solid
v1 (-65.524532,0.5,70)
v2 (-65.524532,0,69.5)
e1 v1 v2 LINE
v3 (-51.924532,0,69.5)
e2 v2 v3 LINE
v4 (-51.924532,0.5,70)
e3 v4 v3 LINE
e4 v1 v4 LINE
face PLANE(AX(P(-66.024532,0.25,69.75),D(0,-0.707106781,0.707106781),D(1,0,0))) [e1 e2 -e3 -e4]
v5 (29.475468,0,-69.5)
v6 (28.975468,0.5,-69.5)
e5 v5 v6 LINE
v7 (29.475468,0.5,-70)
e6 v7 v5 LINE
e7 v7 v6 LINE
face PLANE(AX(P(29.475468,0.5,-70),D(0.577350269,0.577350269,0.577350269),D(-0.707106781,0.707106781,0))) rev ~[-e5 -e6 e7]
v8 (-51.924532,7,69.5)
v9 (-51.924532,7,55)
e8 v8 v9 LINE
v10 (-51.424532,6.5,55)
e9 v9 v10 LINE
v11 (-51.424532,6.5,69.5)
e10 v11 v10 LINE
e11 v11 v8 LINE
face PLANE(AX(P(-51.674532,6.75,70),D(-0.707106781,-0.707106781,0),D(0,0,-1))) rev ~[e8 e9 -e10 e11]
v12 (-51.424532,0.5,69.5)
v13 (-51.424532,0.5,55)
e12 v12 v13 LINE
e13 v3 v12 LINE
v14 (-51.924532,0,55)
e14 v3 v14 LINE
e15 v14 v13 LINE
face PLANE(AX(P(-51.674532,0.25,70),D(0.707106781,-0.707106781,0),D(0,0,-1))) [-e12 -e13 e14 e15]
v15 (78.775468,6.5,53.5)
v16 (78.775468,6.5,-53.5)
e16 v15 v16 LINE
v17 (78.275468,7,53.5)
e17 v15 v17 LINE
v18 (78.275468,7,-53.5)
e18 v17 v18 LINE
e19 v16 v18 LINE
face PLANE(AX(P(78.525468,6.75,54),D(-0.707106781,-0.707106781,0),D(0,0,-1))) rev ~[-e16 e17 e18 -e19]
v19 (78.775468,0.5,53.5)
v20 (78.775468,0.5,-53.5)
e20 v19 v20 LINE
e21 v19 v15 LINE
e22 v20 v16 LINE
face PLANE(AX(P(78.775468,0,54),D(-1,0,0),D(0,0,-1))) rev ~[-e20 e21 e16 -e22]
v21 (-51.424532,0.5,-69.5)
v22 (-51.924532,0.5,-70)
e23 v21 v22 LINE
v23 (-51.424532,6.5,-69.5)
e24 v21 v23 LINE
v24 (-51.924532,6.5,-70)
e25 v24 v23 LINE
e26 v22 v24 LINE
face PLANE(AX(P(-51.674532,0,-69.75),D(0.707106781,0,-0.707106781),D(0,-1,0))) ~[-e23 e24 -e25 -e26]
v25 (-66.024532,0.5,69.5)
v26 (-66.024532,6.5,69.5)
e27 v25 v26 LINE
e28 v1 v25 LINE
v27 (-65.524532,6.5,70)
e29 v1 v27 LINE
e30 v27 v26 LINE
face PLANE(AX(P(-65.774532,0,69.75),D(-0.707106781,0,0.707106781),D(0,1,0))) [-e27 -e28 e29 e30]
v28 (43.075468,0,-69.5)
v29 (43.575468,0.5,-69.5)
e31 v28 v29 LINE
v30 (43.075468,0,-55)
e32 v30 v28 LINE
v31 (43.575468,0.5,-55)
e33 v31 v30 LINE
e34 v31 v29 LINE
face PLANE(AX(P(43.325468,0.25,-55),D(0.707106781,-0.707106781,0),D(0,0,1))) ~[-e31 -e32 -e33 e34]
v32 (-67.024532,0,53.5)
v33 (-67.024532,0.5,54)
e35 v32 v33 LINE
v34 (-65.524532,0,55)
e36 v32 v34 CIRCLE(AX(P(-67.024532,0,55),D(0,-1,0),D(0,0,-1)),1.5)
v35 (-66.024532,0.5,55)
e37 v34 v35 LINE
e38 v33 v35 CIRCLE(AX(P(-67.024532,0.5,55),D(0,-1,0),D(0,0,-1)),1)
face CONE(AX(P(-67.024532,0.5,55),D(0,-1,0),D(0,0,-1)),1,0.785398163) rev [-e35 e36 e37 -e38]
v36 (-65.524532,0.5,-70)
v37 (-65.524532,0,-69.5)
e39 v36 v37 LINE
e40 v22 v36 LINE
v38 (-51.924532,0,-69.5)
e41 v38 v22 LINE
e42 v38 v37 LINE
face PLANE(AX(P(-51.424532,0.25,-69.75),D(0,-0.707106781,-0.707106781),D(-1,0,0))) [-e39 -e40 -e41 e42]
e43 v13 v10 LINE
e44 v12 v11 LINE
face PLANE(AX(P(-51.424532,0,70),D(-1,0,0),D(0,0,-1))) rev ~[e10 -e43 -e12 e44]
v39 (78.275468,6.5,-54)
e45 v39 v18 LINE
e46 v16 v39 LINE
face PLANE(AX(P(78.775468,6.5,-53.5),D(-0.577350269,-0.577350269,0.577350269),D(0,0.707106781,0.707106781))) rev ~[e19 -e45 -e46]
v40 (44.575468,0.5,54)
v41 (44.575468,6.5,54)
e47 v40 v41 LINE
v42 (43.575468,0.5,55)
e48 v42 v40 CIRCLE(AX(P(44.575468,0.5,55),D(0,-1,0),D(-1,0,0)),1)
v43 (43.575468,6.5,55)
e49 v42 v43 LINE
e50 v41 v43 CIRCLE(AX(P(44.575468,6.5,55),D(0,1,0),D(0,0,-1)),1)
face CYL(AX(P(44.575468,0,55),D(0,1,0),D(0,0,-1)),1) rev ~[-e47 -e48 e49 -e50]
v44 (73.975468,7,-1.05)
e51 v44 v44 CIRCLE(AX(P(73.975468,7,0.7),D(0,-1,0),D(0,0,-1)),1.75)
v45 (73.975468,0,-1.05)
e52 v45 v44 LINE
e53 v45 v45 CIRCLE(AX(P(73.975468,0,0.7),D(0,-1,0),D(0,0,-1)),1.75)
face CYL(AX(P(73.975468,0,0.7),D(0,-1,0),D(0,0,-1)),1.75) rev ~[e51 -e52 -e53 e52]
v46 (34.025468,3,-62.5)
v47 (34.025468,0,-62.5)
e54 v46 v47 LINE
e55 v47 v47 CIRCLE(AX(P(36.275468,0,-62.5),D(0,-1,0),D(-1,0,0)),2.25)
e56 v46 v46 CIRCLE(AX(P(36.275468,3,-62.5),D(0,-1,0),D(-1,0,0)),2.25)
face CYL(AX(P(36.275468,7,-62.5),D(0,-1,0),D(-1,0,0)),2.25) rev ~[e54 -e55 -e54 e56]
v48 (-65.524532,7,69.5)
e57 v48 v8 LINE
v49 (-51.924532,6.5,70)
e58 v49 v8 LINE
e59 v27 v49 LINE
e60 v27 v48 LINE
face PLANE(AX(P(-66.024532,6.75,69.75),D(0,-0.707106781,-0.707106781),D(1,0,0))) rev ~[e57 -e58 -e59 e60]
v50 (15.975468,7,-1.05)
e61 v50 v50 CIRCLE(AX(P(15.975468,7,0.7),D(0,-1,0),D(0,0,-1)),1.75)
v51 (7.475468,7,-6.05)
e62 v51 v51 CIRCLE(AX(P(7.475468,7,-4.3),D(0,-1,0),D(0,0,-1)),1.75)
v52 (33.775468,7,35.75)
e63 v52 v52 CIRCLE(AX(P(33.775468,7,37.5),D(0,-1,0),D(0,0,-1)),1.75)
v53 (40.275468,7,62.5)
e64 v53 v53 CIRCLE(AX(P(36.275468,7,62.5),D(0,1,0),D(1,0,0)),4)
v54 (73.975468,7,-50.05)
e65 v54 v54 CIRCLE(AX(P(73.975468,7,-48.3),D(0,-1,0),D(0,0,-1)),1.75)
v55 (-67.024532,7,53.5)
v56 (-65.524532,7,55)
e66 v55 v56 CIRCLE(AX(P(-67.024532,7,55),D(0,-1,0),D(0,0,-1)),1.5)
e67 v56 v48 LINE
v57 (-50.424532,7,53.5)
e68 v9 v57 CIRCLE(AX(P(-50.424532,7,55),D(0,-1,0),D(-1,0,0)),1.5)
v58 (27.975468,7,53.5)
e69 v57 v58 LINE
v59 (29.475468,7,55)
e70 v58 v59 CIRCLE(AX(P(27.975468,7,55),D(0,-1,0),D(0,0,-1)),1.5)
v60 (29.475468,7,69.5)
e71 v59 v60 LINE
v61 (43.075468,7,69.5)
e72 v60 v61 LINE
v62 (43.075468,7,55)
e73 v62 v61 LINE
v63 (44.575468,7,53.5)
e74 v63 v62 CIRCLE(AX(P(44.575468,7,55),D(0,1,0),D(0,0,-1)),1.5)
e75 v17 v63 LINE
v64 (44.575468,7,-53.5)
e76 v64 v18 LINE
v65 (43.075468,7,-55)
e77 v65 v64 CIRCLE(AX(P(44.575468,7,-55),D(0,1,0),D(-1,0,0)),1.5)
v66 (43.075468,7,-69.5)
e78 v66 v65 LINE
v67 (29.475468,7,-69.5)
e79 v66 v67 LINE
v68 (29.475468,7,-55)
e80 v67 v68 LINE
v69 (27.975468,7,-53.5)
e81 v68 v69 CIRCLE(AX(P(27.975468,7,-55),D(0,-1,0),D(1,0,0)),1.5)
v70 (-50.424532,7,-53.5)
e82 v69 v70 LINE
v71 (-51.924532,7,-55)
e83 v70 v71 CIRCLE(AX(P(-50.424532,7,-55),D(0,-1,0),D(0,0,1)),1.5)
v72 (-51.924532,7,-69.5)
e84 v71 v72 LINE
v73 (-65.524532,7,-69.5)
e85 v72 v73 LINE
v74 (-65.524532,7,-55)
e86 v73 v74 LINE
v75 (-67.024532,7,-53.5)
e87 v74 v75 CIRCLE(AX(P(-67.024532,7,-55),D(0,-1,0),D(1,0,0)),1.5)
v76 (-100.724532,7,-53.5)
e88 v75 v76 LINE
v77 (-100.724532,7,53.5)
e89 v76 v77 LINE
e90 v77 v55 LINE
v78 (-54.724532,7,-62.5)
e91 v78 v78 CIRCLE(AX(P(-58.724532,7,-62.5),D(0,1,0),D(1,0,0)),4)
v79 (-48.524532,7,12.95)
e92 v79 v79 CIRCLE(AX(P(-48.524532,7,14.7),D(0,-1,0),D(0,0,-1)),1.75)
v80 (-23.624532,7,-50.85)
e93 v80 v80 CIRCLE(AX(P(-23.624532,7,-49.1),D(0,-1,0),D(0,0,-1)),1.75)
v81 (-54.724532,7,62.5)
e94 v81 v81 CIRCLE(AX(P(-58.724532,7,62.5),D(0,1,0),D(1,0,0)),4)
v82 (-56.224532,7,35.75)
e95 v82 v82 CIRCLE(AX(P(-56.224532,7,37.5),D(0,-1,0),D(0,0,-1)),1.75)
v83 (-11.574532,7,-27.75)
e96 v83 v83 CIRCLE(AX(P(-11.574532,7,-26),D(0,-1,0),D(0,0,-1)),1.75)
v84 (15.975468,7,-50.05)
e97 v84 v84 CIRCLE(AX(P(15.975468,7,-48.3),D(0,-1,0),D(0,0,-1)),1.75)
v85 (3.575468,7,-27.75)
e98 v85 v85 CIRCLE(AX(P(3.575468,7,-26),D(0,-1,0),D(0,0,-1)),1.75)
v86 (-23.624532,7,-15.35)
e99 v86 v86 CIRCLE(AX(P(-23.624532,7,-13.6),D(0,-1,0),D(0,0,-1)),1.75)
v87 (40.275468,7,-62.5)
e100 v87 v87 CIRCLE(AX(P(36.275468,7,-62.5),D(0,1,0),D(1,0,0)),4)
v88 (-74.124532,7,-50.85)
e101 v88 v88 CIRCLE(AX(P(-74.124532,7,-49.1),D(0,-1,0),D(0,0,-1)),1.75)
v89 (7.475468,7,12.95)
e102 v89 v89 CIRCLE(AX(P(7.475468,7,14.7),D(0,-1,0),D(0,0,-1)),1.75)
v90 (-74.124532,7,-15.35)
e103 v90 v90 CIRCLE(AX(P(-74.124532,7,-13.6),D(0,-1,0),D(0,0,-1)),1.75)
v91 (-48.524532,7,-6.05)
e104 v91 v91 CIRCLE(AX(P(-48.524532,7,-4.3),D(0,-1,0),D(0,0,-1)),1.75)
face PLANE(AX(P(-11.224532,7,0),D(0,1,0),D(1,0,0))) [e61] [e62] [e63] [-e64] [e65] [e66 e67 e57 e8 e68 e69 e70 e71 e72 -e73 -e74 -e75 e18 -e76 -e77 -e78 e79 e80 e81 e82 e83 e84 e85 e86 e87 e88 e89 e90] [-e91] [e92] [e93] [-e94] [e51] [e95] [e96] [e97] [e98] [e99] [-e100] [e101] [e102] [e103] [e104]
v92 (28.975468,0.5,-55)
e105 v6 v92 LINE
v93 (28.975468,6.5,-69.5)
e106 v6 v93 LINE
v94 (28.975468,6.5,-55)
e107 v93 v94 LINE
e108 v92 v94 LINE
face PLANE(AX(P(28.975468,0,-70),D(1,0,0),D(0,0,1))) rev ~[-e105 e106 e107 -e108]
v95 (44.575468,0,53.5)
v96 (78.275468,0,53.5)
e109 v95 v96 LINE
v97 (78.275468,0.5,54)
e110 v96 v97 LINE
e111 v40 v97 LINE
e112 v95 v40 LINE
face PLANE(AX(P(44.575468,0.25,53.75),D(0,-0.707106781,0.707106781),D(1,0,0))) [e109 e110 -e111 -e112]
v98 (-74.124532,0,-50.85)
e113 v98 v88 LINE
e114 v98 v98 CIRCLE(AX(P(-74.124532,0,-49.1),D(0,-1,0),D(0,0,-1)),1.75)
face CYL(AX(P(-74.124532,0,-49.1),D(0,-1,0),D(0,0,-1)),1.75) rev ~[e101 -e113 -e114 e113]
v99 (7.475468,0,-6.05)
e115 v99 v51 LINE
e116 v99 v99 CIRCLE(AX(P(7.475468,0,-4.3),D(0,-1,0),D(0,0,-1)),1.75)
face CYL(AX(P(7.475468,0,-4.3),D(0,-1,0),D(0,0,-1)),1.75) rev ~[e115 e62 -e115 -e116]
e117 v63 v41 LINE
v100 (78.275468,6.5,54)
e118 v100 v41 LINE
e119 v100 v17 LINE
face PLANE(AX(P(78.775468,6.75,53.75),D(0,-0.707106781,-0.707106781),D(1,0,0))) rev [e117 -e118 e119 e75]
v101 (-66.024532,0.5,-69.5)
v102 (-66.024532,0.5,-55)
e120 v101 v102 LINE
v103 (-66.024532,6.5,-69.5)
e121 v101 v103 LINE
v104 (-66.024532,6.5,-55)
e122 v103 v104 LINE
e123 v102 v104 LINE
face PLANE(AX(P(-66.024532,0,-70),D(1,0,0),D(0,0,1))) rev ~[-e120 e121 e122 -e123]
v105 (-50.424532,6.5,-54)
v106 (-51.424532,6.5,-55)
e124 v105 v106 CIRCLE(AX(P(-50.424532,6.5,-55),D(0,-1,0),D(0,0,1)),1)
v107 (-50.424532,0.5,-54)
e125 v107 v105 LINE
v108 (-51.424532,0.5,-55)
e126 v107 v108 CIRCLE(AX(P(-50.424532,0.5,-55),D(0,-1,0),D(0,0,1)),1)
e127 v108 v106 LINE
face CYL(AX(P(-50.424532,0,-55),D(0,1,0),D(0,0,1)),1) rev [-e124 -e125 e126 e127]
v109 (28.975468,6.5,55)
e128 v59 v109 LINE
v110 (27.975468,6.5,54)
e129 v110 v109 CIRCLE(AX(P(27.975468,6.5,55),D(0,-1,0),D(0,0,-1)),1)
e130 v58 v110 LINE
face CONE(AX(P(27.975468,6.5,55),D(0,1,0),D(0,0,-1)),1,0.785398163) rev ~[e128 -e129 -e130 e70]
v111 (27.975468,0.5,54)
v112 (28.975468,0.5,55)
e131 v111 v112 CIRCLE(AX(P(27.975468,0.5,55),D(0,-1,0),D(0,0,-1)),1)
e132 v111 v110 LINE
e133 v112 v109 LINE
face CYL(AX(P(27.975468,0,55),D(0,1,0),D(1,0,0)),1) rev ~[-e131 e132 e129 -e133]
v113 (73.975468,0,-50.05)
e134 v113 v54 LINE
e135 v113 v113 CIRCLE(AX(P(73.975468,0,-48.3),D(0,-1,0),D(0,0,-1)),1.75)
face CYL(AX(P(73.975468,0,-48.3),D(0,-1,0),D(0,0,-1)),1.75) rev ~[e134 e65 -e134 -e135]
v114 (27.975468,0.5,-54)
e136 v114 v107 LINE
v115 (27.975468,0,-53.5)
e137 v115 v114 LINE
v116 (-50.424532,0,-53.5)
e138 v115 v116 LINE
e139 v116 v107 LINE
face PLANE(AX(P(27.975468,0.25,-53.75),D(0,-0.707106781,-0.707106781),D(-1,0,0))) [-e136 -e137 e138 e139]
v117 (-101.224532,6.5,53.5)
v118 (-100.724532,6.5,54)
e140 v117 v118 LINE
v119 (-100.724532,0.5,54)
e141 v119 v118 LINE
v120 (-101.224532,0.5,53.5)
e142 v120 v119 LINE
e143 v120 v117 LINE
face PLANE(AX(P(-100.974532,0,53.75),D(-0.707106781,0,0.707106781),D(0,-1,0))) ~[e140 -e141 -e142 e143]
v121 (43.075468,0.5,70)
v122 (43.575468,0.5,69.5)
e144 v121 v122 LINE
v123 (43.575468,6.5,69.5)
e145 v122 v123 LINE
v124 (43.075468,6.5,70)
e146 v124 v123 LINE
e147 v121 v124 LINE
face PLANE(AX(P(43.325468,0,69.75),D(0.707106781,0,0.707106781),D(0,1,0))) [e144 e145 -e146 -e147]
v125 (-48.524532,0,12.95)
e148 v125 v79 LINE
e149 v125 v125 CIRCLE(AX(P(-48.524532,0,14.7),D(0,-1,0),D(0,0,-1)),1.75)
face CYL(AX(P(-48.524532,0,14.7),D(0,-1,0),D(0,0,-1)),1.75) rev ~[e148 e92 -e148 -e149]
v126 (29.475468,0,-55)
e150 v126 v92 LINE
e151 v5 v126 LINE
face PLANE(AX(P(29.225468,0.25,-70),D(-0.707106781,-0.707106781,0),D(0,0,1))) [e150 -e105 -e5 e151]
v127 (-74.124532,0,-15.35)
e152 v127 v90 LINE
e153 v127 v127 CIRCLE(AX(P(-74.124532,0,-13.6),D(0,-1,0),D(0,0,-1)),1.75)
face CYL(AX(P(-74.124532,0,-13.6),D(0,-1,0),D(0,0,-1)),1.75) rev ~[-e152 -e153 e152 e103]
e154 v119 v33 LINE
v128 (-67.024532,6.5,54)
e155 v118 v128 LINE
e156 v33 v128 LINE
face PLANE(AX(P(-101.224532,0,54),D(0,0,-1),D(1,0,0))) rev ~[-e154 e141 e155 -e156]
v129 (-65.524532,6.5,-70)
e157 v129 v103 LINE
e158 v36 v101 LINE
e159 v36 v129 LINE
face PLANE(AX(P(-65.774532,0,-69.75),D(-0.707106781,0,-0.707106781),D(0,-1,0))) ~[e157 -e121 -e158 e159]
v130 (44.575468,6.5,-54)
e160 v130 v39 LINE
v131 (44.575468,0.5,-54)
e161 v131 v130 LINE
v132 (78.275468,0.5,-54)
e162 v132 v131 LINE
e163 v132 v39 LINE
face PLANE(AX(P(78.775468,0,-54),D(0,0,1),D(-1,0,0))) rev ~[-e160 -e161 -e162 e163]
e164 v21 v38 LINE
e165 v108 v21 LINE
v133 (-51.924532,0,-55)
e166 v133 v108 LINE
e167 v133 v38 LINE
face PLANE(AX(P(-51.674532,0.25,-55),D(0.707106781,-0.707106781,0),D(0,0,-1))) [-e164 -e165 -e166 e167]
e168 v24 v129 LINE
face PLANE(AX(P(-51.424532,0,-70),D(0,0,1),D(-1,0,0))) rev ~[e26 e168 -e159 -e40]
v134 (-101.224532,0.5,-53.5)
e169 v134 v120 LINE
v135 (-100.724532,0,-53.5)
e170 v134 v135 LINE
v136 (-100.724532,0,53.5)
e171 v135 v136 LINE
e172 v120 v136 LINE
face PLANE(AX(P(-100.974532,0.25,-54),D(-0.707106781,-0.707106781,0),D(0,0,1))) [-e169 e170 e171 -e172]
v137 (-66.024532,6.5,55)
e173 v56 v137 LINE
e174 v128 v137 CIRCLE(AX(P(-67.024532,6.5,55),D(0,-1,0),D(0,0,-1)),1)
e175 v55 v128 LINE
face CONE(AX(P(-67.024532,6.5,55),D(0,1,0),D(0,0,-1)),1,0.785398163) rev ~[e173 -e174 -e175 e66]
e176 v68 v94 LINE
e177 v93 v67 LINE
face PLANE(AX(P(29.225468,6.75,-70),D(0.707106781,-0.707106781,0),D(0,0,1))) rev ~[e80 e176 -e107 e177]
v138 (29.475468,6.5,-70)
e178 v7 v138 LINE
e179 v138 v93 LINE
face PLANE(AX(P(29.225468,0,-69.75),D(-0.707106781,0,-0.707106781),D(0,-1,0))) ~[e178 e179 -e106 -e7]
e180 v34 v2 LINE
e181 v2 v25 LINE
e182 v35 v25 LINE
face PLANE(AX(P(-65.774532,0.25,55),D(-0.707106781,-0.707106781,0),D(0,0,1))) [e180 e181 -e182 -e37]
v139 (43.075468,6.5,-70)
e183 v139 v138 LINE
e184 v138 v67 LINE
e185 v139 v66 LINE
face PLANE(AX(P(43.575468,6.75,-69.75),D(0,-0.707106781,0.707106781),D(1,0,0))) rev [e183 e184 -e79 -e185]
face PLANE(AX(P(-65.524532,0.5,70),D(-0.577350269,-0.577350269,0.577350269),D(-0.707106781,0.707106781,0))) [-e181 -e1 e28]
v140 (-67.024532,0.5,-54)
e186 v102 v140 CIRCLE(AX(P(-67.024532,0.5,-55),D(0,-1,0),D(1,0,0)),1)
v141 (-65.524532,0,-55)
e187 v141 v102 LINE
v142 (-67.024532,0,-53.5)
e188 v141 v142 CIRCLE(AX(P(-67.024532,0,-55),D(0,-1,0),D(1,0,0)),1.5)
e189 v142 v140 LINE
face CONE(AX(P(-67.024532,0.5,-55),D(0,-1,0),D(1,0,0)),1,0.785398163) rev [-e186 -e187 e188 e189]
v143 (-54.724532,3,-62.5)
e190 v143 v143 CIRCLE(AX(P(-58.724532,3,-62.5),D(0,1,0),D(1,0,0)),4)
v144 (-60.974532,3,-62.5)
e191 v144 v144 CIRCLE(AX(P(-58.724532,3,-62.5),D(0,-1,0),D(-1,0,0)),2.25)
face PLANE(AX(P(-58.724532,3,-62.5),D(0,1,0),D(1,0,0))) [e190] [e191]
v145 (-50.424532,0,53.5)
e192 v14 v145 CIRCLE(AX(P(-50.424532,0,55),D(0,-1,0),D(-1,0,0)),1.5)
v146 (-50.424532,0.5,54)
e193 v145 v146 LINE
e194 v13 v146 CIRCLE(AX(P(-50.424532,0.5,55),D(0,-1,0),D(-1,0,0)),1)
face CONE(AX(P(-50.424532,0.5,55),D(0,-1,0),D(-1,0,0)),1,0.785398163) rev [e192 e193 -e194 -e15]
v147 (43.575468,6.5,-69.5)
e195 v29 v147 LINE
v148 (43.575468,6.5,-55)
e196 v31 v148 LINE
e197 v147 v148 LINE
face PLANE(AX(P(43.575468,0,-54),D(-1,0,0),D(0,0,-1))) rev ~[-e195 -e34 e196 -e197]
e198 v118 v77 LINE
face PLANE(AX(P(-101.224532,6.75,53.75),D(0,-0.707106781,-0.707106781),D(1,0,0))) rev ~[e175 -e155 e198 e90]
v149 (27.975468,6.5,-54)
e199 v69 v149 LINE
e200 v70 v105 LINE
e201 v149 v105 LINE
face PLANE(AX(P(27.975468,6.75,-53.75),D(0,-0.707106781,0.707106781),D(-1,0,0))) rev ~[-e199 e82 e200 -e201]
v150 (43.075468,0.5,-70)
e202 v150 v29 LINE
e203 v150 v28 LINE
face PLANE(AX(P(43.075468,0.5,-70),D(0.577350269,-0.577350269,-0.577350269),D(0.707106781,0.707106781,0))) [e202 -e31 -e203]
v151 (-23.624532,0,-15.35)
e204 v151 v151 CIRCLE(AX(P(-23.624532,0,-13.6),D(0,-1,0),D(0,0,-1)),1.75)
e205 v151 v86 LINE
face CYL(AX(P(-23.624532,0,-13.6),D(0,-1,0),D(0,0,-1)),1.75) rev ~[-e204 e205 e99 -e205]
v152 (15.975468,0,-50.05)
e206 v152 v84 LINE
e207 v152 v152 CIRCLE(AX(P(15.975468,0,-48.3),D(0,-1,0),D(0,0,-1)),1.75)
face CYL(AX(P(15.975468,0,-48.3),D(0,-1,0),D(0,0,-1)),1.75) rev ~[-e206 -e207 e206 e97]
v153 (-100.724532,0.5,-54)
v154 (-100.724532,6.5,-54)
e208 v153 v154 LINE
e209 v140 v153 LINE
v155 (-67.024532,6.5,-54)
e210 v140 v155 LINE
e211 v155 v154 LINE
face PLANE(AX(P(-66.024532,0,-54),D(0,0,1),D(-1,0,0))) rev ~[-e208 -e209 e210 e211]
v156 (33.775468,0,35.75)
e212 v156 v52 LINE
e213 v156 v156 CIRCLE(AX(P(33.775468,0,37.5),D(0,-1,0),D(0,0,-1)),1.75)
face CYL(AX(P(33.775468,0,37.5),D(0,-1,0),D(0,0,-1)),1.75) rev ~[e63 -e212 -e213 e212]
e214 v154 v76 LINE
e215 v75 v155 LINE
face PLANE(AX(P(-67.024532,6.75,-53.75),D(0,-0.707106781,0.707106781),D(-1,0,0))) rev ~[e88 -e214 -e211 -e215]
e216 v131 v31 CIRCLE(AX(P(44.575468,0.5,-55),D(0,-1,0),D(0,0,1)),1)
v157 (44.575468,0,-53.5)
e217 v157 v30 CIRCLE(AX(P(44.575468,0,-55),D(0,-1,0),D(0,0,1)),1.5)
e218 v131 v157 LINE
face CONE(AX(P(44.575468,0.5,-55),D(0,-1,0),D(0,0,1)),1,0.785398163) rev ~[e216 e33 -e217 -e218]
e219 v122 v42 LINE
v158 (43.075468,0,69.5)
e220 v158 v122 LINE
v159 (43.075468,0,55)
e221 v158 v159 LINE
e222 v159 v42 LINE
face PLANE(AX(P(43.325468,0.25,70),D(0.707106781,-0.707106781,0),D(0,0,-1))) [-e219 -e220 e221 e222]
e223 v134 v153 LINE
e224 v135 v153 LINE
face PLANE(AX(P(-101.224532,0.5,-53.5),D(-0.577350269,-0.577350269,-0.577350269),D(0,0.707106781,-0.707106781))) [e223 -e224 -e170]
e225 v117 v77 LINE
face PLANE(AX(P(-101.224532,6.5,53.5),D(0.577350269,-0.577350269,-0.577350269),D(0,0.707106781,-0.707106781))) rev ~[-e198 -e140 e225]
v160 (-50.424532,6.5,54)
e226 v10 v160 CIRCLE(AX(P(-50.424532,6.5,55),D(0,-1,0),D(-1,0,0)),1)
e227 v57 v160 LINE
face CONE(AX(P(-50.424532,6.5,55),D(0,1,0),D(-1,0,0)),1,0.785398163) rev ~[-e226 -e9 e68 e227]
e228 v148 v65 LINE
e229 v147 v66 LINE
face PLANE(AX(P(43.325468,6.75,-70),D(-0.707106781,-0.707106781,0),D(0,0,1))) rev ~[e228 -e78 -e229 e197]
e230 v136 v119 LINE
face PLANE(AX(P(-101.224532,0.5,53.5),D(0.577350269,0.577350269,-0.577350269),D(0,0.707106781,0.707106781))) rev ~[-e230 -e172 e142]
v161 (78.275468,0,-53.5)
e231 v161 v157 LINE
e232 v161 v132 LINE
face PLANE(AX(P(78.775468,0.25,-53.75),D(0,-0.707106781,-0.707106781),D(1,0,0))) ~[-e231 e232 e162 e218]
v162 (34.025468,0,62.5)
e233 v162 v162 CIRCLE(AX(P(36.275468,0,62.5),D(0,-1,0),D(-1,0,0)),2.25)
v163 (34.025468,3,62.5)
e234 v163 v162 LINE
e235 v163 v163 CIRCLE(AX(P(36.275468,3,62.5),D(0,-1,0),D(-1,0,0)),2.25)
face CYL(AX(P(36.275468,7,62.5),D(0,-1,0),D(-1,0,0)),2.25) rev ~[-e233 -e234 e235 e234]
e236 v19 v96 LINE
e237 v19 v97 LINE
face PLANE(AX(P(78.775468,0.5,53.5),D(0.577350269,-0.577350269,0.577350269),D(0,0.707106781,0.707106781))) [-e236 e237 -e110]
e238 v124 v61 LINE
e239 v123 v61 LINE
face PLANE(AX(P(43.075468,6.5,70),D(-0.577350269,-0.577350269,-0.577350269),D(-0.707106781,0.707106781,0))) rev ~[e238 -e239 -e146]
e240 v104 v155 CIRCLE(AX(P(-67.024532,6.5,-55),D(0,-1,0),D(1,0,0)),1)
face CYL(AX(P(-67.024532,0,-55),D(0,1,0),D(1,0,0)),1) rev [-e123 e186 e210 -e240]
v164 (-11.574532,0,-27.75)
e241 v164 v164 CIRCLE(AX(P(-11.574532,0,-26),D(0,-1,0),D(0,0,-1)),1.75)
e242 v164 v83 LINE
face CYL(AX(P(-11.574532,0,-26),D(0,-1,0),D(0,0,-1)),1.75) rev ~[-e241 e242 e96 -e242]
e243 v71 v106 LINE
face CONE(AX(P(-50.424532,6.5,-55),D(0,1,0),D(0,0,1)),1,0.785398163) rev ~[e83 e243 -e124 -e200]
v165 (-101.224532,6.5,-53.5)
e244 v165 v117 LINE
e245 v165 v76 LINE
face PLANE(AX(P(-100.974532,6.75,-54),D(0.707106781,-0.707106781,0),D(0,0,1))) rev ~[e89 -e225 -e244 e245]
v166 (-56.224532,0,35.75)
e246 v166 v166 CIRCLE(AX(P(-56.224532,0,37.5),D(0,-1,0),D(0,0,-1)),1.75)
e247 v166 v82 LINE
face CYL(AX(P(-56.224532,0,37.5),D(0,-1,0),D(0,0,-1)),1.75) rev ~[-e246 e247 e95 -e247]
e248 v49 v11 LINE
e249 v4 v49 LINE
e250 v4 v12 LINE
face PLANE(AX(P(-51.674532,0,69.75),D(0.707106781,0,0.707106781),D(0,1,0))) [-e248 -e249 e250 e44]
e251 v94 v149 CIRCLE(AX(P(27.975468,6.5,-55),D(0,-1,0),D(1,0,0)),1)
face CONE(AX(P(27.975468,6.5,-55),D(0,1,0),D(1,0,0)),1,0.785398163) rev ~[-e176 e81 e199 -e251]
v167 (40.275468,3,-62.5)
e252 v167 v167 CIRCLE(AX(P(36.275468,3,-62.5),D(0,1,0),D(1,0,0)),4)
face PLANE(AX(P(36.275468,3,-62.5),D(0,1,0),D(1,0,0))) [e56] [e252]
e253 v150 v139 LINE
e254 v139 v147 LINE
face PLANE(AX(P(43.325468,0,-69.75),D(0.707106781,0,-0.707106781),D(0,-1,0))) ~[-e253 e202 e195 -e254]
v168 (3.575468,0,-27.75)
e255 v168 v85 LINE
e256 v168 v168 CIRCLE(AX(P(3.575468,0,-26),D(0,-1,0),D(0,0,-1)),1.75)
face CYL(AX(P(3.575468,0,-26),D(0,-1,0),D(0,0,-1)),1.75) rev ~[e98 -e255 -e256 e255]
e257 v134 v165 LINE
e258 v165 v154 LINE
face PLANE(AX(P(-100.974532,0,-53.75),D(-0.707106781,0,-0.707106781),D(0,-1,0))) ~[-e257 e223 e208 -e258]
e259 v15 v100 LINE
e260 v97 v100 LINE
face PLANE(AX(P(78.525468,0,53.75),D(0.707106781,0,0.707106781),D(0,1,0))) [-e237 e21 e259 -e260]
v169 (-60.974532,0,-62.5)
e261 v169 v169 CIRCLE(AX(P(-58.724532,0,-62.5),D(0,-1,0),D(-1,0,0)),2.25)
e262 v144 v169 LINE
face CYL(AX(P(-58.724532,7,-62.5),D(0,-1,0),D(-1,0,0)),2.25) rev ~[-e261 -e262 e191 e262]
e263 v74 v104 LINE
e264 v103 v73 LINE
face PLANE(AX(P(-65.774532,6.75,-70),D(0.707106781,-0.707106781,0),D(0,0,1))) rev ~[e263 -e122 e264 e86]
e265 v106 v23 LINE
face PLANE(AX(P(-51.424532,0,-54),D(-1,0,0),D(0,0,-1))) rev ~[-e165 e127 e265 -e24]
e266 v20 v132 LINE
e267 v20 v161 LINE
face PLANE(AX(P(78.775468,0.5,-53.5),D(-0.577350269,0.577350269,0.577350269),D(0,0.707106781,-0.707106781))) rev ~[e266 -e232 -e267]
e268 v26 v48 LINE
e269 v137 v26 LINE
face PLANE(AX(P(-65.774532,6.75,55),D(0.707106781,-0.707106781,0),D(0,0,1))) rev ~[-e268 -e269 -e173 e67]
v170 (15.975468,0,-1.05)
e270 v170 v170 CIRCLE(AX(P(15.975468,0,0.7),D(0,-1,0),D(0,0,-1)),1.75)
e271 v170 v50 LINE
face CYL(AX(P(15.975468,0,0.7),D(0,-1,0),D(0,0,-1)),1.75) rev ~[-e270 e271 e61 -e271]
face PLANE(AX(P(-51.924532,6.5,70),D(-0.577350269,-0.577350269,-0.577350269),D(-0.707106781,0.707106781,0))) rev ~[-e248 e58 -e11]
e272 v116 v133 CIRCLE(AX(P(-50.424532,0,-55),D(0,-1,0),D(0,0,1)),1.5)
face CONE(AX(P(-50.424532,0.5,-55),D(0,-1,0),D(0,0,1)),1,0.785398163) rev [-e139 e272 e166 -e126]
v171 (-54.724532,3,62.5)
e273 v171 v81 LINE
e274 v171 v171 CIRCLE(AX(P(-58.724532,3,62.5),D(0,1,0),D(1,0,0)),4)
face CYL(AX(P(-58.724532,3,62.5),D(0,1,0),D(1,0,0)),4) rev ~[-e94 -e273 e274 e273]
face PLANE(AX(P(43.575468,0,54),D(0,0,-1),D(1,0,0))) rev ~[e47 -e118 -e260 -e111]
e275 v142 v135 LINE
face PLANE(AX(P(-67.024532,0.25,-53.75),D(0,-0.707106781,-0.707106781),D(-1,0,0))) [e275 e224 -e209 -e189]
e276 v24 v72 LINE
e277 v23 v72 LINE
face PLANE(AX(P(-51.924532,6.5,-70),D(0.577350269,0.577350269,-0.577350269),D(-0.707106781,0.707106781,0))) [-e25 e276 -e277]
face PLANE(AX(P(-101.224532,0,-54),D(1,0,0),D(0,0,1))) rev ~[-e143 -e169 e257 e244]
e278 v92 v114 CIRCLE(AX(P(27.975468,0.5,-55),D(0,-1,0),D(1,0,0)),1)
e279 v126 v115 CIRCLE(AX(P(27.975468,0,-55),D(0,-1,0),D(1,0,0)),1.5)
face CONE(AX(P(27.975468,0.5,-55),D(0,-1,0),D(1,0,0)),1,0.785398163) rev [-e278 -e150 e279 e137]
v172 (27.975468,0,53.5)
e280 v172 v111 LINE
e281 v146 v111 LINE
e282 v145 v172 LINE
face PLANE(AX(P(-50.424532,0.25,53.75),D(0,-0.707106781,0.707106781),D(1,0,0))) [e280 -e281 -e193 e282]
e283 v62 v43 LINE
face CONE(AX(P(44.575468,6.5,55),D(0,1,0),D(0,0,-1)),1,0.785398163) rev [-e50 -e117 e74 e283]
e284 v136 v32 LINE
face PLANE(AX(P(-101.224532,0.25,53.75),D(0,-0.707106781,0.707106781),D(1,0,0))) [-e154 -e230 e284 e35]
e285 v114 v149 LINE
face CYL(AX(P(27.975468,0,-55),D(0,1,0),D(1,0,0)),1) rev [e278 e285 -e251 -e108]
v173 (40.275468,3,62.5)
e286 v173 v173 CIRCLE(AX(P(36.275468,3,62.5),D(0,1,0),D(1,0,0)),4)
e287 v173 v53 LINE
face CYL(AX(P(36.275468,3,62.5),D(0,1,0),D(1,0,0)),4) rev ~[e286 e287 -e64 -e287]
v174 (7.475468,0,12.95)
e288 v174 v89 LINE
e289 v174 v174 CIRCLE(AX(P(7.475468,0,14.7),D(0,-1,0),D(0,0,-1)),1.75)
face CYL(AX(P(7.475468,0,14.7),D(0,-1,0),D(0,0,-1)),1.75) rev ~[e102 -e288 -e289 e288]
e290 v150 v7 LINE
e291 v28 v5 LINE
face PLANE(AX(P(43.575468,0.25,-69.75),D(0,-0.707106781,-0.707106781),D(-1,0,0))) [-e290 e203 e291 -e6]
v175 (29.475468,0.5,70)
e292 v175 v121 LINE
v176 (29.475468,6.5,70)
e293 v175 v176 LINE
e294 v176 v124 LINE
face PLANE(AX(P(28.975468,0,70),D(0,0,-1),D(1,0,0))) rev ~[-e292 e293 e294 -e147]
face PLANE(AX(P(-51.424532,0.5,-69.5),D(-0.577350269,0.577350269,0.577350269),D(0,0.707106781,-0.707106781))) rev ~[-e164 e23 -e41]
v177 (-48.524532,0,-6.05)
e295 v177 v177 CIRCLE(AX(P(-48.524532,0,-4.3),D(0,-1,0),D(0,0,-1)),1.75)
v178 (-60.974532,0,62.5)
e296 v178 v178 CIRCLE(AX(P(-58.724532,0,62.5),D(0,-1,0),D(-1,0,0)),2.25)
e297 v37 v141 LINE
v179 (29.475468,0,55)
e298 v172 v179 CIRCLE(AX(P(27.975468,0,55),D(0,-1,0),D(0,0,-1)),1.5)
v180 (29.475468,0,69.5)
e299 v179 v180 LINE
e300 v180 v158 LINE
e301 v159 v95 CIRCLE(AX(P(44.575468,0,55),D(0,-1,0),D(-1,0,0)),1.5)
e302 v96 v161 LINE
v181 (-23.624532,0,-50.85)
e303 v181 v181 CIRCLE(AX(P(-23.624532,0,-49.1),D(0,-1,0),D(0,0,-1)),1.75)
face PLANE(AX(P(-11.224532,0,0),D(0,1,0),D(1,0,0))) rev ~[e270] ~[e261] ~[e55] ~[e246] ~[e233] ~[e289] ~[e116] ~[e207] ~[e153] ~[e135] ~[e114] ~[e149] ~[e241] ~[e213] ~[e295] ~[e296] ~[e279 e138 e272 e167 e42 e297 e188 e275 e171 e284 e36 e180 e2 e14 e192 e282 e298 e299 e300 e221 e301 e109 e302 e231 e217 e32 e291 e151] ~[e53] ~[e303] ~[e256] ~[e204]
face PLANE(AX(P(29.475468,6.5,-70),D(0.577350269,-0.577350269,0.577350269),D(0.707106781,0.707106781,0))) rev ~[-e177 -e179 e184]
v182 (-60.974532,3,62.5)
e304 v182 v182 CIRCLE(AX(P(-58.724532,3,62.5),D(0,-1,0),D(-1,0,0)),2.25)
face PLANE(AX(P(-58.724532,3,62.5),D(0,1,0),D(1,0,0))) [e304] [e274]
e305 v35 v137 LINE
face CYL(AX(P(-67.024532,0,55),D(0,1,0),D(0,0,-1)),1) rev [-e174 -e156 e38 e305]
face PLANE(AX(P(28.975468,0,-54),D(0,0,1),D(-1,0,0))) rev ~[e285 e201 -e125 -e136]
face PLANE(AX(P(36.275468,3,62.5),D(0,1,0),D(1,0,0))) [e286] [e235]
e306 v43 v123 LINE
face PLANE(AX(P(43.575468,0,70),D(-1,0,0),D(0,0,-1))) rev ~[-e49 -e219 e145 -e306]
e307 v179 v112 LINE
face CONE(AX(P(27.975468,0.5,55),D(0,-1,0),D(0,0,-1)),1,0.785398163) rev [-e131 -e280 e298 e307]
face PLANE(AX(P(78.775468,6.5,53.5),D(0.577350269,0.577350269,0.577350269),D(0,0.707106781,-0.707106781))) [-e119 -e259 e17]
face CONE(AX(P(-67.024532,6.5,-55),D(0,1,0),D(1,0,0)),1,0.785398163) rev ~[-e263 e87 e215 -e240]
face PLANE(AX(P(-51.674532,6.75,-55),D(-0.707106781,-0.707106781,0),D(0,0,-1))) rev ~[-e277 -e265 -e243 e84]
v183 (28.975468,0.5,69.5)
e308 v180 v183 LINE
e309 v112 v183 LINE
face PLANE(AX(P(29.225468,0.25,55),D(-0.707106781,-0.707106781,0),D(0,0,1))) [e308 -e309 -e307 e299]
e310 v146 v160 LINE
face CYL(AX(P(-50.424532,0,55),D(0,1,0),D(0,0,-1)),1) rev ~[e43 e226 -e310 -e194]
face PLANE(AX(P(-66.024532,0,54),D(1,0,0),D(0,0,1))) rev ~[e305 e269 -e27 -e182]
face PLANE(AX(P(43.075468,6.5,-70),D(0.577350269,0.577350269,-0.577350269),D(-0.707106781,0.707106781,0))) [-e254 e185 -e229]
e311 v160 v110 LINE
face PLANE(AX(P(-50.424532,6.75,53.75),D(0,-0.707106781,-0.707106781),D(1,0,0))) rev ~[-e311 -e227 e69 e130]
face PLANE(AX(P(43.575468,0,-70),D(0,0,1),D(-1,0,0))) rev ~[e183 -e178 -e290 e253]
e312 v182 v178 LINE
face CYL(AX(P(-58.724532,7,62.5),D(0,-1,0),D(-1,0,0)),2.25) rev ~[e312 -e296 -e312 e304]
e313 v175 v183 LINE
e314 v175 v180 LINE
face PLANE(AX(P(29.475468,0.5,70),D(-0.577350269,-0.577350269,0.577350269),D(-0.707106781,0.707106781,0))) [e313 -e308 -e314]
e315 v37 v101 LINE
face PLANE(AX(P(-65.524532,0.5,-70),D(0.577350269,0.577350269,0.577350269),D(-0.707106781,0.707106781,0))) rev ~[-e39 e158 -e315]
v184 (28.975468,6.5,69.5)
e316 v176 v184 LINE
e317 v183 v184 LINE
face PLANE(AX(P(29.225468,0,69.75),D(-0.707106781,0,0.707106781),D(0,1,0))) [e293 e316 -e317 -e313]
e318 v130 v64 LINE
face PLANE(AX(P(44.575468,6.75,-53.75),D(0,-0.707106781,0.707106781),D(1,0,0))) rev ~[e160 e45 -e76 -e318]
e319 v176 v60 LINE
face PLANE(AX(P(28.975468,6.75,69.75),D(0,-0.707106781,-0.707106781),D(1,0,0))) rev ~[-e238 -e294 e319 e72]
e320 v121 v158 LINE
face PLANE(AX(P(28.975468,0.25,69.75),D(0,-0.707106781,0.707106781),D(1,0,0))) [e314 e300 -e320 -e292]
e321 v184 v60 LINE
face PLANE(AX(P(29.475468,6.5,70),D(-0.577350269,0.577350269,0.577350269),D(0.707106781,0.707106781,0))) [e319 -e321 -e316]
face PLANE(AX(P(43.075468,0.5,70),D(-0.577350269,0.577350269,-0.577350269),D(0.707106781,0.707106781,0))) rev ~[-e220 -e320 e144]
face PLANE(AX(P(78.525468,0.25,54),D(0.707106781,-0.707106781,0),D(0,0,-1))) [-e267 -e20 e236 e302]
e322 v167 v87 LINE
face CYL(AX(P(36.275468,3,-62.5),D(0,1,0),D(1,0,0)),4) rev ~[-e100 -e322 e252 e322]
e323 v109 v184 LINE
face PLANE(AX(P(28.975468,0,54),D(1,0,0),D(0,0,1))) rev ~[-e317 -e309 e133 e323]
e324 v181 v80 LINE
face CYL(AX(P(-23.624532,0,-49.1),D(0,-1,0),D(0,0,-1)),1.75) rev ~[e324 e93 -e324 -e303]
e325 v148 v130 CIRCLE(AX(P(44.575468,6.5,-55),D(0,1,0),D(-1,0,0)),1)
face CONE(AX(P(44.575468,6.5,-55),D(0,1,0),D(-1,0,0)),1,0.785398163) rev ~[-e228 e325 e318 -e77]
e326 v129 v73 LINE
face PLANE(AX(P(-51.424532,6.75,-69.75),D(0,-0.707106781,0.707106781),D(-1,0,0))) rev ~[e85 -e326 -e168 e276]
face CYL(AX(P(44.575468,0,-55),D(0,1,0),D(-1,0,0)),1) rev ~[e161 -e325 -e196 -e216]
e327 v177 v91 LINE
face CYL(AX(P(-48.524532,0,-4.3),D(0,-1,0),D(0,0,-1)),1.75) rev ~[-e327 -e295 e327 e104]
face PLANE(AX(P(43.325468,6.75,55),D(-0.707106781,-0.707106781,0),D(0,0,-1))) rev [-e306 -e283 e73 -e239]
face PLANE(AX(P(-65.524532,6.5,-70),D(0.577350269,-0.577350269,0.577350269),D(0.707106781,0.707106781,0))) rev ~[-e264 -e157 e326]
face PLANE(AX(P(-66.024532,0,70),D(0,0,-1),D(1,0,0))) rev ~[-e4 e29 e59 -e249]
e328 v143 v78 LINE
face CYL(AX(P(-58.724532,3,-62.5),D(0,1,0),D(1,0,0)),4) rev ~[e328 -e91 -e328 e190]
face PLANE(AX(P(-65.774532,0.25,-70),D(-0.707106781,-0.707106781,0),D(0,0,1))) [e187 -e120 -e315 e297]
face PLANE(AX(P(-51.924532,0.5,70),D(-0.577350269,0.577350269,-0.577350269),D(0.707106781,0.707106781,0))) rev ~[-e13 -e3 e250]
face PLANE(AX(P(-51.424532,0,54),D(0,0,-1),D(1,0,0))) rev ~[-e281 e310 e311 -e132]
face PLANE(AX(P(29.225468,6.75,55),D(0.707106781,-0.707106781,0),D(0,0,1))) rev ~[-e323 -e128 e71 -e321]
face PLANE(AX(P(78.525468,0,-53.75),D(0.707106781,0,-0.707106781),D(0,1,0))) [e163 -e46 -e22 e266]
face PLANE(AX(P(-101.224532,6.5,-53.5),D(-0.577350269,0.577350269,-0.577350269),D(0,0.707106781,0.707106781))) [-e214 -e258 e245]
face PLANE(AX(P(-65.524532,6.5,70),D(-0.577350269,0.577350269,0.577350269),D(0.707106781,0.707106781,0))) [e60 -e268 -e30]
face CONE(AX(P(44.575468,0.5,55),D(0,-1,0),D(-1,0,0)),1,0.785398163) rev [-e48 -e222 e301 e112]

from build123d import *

# Parameters (mm, degrees)
BOSS_EXTRUDE1_DEPTH            = 7
SKETCH3_R                      = 1.75
CUT_EXTRUDE1_DEPTH             = 124.269646737
CBORE_FOR_M4_SHCS1_D           = 4.5
CBORE_FOR_M4_SHCS1_CBORE_D     = 8
CBORE_FOR_M4_SHCS1_CBORE_DEPTH = 4
FILLET1_R                      = 1
CHAMFER2_SIZE                  = 0.5


with BuildPart() as part:
    # Sketch1 → Boss-Extrude1 (new body)
    with BuildSketch(Plane(origin=(0, 0, 0), x_dir=(1, 0, 0), z_dir=(0, 1, 0))):
        Polygon((43.575468355, 54), (43.575468355, 70), (28.975468355, 70), (28.975468355, 54), (-51.424531645, 54), (-51.424531645, 70), (-66.024531645, 70), (-66.024531645, 54), (-101.224531645, 54), (-101.224531645, -54), (-66.024531645, -54), (-66.024531645, -70), (-51.424531645, -70), (-51.424531645, -54), (28.975468355, -54), (28.975468355, -70), (43.575468355, -70), (43.575468355, -54), (78.775468355, -54), (78.775468355, 54), align=None)
    extrude(amount=BOSS_EXTRUDE1_DEPTH)

    # Sketch3 → Cut-Extrude1 (cut, through all)
    with BuildSketch(Plane.XZ):
        with Locations(Location((33.775468355, 37.5, 0), (0, 0, 270))):
            Circle(SKETCH3_R)
        with Locations(Location((-56.224531645, 37.5, 0), (0, 0, 270))):
            Circle(SKETCH3_R)
        with Locations(Location((73.975468355, 0.7, 0), (0, 0, 270))):
            Circle(SKETCH3_R)
        with Locations(Location((73.975468355, -48.3, 0), (0, 0, 270))):
            Circle(SKETCH3_R)
        with Locations(Location((15.975468355, -48.3, 0), (0, 0, 270))):
            Circle(SKETCH3_R)
        with Locations(Location((15.975468355, 0.7, 0), (0, 0, 270))):
            Circle(SKETCH3_R)
        with Locations(Location((-48.524531645, -4.3, 0), (0, 0, 270))):
            Circle(SKETCH3_R)
        with Locations(Location((-48.524531645, 14.7, 0), (0, 0, 270))):
            Circle(SKETCH3_R)
        with Locations(Location((7.475468355, 14.7, 0), (0, 0, 270))):
            Circle(SKETCH3_R)
        with Locations(Location((7.475468355, -4.3, 0), (0, 0, 270))):
            Circle(SKETCH3_R)
        with Locations(Location((-23.624531645, -13.6, 0), (0, 0, 270))):
            Circle(SKETCH3_R)
        with Locations(Location((-23.624531645, -49.1, 0), (0, 0, 270))):
            Circle(SKETCH3_R)
        with Locations(Location((-74.124531645, -49.1, 0), (0, 0, 270))):
            Circle(SKETCH3_R)
        with Locations(Location((-74.124531645, -13.6, 0), (0, 0, 270))):
            Circle(SKETCH3_R)
        with Locations(Location((-11.574531645, -26, 0), (0, 0, 270))):
            Circle(SKETCH3_R)
        with Locations(Location((3.575468355, -26, 0), (0, 0, 270))):
            Circle(SKETCH3_R)
    extrude(amount=-CUT_EXTRUDE1_DEPTH, mode=Mode.SUBTRACT)

    # CBORE for M4 SHCS1 (through all)
    with Locations(Plane(origin=(0, 7, 0), x_dir=(1, 0, 0), z_dir=(0, 1, 0))):
        with Locations((-58.724531645, 62.5), (36.275468355, 62.5), (36.275468355, -62.5), (-58.724531645, -62.5)):
            CounterBoreHole(CBORE_FOR_M4_SHCS1_D / 2, CBORE_FOR_M4_SHCS1_CBORE_D / 2, CBORE_FOR_M4_SHCS1_CBORE_DEPTH)

    # Fillet1
    fillet1_edges = [part.edges().sort_by_distance(p)[0] for p in [
        (-66.024531645, 3.5, -54),
        (-51.424531645, 3.5, -54),
        (28.975468355, 3.5, -54),
        (43.575468355, 3.5, -54),
        (43.575468355, 3.5, 54),
        (28.975468355, 3.5, 54),
        (-51.424531645, 3.5, 54),
        (-66.024531645, 3.5, 54),
    ]]
    fillet(fillet1_edges, radius=FILLET1_R)

    # Chamfer2
    chamfer2_edges = [part.edges().sort_by_distance(p)[0] for p in [
        (-84.124531645, 0, -54),
        (-66.024531645, 0, -62.5),
        (-66.024531645, 7, 62.5),
        (-84.124531645, 7, 54),
        (-58.724531645, 0, -70),
        (-11.224531645, 7, 54),
        (-11.224531645, 0, 54),
        (-51.424531645, 0, 62.5),
        (28.975468355, 7, 62.5),
        (61.675468355, 0, 54),
        (43.575468355, 0, 62.5),
        (43.575468355, 0, -62.5),
        (61.675468355, 0, -54),
        (-11.224531645, 7, -54),
        (-11.224531645, 0, -54),
        (28.975468355, 0, -62.5),
        (28.975468355, 7, -62.5),
        (-84.124531645, 7, -54),
        (-66.024531645, 7, -62.5),
        (36.275468355, 0, -70),
        (-51.424531645, 0, -62.5),
        (-66.317424864, 0, 54.292893219),
        (-66.317424864, 7, 54.292893219),
        (-51.131638426, 0, 54.292893219),
        (-51.131638426, 7, 54.292893219),
        (28.682575136, 0, 54.292893219),
        (28.682575136, 7, 54.292893219),
        (43.868361574, 0, 54.292893219),
        (43.868361574, 7, 54.292893219),
        (43.868361574, 0, -54.292893219),
        (43.868361574, 7, -54.292893219),
        (28.682575136, 0, -54.292893219),
        (28.682575136, 7, -54.292893219),
        (-66.317424864, 0, -54.292893219),
        (-66.317424864, 7, -54.292893219),
        (-51.131638426, 0, -54.292893219),
        (-51.131638426, 7, -54.292893219),
        (78.775468355, 0, 0),
        (36.275468355, 0, 70),
        (28.975468355, 0, 62.5),
        (-58.724531645, 0, 70),
        (-66.024531645, 0, 62.5),
        (-84.124531645, 0, 54),
        (-101.224531645, 0, 0),
        (-101.224531645, 3.5, -54),
        (-66.024531645, 3.5, -70),
        (-51.424531645, 3.5, -70),
        (-58.724531645, 7, -70),
        (-51.424531645, 7, -62.5),
        (28.975468355, 3.5, -70),
        (43.575468355, 3.5, -70),
        (36.275468355, 7, -70),
        (43.575468355, 7, -62.5),
        (78.775468355, 3.5, -54),
        (61.675468355, 7, -54),
        (78.775468355, 3.5, 54),
        (78.775468355, 7, 0),
        (61.675468355, 7, 54),
        (43.575468355, 3.5, 70),
        (43.575468355, 7, 62.5),
        (28.975468355, 3.5, 70),
        (36.275468355, 7, 70),
        (-51.424531645, 3.5, 70),
        (-51.424531645, 7, 62.5),
        (-66.024531645, 3.5, 70),
        (-58.724531645, 7, 70),
        (-101.224531645, 3.5, 54),
        (-101.224531645, 7, 0),
    ]]
    chamfer(chamfer2_edges, length=CHAMFER2_SIZE)


solid = part.part
